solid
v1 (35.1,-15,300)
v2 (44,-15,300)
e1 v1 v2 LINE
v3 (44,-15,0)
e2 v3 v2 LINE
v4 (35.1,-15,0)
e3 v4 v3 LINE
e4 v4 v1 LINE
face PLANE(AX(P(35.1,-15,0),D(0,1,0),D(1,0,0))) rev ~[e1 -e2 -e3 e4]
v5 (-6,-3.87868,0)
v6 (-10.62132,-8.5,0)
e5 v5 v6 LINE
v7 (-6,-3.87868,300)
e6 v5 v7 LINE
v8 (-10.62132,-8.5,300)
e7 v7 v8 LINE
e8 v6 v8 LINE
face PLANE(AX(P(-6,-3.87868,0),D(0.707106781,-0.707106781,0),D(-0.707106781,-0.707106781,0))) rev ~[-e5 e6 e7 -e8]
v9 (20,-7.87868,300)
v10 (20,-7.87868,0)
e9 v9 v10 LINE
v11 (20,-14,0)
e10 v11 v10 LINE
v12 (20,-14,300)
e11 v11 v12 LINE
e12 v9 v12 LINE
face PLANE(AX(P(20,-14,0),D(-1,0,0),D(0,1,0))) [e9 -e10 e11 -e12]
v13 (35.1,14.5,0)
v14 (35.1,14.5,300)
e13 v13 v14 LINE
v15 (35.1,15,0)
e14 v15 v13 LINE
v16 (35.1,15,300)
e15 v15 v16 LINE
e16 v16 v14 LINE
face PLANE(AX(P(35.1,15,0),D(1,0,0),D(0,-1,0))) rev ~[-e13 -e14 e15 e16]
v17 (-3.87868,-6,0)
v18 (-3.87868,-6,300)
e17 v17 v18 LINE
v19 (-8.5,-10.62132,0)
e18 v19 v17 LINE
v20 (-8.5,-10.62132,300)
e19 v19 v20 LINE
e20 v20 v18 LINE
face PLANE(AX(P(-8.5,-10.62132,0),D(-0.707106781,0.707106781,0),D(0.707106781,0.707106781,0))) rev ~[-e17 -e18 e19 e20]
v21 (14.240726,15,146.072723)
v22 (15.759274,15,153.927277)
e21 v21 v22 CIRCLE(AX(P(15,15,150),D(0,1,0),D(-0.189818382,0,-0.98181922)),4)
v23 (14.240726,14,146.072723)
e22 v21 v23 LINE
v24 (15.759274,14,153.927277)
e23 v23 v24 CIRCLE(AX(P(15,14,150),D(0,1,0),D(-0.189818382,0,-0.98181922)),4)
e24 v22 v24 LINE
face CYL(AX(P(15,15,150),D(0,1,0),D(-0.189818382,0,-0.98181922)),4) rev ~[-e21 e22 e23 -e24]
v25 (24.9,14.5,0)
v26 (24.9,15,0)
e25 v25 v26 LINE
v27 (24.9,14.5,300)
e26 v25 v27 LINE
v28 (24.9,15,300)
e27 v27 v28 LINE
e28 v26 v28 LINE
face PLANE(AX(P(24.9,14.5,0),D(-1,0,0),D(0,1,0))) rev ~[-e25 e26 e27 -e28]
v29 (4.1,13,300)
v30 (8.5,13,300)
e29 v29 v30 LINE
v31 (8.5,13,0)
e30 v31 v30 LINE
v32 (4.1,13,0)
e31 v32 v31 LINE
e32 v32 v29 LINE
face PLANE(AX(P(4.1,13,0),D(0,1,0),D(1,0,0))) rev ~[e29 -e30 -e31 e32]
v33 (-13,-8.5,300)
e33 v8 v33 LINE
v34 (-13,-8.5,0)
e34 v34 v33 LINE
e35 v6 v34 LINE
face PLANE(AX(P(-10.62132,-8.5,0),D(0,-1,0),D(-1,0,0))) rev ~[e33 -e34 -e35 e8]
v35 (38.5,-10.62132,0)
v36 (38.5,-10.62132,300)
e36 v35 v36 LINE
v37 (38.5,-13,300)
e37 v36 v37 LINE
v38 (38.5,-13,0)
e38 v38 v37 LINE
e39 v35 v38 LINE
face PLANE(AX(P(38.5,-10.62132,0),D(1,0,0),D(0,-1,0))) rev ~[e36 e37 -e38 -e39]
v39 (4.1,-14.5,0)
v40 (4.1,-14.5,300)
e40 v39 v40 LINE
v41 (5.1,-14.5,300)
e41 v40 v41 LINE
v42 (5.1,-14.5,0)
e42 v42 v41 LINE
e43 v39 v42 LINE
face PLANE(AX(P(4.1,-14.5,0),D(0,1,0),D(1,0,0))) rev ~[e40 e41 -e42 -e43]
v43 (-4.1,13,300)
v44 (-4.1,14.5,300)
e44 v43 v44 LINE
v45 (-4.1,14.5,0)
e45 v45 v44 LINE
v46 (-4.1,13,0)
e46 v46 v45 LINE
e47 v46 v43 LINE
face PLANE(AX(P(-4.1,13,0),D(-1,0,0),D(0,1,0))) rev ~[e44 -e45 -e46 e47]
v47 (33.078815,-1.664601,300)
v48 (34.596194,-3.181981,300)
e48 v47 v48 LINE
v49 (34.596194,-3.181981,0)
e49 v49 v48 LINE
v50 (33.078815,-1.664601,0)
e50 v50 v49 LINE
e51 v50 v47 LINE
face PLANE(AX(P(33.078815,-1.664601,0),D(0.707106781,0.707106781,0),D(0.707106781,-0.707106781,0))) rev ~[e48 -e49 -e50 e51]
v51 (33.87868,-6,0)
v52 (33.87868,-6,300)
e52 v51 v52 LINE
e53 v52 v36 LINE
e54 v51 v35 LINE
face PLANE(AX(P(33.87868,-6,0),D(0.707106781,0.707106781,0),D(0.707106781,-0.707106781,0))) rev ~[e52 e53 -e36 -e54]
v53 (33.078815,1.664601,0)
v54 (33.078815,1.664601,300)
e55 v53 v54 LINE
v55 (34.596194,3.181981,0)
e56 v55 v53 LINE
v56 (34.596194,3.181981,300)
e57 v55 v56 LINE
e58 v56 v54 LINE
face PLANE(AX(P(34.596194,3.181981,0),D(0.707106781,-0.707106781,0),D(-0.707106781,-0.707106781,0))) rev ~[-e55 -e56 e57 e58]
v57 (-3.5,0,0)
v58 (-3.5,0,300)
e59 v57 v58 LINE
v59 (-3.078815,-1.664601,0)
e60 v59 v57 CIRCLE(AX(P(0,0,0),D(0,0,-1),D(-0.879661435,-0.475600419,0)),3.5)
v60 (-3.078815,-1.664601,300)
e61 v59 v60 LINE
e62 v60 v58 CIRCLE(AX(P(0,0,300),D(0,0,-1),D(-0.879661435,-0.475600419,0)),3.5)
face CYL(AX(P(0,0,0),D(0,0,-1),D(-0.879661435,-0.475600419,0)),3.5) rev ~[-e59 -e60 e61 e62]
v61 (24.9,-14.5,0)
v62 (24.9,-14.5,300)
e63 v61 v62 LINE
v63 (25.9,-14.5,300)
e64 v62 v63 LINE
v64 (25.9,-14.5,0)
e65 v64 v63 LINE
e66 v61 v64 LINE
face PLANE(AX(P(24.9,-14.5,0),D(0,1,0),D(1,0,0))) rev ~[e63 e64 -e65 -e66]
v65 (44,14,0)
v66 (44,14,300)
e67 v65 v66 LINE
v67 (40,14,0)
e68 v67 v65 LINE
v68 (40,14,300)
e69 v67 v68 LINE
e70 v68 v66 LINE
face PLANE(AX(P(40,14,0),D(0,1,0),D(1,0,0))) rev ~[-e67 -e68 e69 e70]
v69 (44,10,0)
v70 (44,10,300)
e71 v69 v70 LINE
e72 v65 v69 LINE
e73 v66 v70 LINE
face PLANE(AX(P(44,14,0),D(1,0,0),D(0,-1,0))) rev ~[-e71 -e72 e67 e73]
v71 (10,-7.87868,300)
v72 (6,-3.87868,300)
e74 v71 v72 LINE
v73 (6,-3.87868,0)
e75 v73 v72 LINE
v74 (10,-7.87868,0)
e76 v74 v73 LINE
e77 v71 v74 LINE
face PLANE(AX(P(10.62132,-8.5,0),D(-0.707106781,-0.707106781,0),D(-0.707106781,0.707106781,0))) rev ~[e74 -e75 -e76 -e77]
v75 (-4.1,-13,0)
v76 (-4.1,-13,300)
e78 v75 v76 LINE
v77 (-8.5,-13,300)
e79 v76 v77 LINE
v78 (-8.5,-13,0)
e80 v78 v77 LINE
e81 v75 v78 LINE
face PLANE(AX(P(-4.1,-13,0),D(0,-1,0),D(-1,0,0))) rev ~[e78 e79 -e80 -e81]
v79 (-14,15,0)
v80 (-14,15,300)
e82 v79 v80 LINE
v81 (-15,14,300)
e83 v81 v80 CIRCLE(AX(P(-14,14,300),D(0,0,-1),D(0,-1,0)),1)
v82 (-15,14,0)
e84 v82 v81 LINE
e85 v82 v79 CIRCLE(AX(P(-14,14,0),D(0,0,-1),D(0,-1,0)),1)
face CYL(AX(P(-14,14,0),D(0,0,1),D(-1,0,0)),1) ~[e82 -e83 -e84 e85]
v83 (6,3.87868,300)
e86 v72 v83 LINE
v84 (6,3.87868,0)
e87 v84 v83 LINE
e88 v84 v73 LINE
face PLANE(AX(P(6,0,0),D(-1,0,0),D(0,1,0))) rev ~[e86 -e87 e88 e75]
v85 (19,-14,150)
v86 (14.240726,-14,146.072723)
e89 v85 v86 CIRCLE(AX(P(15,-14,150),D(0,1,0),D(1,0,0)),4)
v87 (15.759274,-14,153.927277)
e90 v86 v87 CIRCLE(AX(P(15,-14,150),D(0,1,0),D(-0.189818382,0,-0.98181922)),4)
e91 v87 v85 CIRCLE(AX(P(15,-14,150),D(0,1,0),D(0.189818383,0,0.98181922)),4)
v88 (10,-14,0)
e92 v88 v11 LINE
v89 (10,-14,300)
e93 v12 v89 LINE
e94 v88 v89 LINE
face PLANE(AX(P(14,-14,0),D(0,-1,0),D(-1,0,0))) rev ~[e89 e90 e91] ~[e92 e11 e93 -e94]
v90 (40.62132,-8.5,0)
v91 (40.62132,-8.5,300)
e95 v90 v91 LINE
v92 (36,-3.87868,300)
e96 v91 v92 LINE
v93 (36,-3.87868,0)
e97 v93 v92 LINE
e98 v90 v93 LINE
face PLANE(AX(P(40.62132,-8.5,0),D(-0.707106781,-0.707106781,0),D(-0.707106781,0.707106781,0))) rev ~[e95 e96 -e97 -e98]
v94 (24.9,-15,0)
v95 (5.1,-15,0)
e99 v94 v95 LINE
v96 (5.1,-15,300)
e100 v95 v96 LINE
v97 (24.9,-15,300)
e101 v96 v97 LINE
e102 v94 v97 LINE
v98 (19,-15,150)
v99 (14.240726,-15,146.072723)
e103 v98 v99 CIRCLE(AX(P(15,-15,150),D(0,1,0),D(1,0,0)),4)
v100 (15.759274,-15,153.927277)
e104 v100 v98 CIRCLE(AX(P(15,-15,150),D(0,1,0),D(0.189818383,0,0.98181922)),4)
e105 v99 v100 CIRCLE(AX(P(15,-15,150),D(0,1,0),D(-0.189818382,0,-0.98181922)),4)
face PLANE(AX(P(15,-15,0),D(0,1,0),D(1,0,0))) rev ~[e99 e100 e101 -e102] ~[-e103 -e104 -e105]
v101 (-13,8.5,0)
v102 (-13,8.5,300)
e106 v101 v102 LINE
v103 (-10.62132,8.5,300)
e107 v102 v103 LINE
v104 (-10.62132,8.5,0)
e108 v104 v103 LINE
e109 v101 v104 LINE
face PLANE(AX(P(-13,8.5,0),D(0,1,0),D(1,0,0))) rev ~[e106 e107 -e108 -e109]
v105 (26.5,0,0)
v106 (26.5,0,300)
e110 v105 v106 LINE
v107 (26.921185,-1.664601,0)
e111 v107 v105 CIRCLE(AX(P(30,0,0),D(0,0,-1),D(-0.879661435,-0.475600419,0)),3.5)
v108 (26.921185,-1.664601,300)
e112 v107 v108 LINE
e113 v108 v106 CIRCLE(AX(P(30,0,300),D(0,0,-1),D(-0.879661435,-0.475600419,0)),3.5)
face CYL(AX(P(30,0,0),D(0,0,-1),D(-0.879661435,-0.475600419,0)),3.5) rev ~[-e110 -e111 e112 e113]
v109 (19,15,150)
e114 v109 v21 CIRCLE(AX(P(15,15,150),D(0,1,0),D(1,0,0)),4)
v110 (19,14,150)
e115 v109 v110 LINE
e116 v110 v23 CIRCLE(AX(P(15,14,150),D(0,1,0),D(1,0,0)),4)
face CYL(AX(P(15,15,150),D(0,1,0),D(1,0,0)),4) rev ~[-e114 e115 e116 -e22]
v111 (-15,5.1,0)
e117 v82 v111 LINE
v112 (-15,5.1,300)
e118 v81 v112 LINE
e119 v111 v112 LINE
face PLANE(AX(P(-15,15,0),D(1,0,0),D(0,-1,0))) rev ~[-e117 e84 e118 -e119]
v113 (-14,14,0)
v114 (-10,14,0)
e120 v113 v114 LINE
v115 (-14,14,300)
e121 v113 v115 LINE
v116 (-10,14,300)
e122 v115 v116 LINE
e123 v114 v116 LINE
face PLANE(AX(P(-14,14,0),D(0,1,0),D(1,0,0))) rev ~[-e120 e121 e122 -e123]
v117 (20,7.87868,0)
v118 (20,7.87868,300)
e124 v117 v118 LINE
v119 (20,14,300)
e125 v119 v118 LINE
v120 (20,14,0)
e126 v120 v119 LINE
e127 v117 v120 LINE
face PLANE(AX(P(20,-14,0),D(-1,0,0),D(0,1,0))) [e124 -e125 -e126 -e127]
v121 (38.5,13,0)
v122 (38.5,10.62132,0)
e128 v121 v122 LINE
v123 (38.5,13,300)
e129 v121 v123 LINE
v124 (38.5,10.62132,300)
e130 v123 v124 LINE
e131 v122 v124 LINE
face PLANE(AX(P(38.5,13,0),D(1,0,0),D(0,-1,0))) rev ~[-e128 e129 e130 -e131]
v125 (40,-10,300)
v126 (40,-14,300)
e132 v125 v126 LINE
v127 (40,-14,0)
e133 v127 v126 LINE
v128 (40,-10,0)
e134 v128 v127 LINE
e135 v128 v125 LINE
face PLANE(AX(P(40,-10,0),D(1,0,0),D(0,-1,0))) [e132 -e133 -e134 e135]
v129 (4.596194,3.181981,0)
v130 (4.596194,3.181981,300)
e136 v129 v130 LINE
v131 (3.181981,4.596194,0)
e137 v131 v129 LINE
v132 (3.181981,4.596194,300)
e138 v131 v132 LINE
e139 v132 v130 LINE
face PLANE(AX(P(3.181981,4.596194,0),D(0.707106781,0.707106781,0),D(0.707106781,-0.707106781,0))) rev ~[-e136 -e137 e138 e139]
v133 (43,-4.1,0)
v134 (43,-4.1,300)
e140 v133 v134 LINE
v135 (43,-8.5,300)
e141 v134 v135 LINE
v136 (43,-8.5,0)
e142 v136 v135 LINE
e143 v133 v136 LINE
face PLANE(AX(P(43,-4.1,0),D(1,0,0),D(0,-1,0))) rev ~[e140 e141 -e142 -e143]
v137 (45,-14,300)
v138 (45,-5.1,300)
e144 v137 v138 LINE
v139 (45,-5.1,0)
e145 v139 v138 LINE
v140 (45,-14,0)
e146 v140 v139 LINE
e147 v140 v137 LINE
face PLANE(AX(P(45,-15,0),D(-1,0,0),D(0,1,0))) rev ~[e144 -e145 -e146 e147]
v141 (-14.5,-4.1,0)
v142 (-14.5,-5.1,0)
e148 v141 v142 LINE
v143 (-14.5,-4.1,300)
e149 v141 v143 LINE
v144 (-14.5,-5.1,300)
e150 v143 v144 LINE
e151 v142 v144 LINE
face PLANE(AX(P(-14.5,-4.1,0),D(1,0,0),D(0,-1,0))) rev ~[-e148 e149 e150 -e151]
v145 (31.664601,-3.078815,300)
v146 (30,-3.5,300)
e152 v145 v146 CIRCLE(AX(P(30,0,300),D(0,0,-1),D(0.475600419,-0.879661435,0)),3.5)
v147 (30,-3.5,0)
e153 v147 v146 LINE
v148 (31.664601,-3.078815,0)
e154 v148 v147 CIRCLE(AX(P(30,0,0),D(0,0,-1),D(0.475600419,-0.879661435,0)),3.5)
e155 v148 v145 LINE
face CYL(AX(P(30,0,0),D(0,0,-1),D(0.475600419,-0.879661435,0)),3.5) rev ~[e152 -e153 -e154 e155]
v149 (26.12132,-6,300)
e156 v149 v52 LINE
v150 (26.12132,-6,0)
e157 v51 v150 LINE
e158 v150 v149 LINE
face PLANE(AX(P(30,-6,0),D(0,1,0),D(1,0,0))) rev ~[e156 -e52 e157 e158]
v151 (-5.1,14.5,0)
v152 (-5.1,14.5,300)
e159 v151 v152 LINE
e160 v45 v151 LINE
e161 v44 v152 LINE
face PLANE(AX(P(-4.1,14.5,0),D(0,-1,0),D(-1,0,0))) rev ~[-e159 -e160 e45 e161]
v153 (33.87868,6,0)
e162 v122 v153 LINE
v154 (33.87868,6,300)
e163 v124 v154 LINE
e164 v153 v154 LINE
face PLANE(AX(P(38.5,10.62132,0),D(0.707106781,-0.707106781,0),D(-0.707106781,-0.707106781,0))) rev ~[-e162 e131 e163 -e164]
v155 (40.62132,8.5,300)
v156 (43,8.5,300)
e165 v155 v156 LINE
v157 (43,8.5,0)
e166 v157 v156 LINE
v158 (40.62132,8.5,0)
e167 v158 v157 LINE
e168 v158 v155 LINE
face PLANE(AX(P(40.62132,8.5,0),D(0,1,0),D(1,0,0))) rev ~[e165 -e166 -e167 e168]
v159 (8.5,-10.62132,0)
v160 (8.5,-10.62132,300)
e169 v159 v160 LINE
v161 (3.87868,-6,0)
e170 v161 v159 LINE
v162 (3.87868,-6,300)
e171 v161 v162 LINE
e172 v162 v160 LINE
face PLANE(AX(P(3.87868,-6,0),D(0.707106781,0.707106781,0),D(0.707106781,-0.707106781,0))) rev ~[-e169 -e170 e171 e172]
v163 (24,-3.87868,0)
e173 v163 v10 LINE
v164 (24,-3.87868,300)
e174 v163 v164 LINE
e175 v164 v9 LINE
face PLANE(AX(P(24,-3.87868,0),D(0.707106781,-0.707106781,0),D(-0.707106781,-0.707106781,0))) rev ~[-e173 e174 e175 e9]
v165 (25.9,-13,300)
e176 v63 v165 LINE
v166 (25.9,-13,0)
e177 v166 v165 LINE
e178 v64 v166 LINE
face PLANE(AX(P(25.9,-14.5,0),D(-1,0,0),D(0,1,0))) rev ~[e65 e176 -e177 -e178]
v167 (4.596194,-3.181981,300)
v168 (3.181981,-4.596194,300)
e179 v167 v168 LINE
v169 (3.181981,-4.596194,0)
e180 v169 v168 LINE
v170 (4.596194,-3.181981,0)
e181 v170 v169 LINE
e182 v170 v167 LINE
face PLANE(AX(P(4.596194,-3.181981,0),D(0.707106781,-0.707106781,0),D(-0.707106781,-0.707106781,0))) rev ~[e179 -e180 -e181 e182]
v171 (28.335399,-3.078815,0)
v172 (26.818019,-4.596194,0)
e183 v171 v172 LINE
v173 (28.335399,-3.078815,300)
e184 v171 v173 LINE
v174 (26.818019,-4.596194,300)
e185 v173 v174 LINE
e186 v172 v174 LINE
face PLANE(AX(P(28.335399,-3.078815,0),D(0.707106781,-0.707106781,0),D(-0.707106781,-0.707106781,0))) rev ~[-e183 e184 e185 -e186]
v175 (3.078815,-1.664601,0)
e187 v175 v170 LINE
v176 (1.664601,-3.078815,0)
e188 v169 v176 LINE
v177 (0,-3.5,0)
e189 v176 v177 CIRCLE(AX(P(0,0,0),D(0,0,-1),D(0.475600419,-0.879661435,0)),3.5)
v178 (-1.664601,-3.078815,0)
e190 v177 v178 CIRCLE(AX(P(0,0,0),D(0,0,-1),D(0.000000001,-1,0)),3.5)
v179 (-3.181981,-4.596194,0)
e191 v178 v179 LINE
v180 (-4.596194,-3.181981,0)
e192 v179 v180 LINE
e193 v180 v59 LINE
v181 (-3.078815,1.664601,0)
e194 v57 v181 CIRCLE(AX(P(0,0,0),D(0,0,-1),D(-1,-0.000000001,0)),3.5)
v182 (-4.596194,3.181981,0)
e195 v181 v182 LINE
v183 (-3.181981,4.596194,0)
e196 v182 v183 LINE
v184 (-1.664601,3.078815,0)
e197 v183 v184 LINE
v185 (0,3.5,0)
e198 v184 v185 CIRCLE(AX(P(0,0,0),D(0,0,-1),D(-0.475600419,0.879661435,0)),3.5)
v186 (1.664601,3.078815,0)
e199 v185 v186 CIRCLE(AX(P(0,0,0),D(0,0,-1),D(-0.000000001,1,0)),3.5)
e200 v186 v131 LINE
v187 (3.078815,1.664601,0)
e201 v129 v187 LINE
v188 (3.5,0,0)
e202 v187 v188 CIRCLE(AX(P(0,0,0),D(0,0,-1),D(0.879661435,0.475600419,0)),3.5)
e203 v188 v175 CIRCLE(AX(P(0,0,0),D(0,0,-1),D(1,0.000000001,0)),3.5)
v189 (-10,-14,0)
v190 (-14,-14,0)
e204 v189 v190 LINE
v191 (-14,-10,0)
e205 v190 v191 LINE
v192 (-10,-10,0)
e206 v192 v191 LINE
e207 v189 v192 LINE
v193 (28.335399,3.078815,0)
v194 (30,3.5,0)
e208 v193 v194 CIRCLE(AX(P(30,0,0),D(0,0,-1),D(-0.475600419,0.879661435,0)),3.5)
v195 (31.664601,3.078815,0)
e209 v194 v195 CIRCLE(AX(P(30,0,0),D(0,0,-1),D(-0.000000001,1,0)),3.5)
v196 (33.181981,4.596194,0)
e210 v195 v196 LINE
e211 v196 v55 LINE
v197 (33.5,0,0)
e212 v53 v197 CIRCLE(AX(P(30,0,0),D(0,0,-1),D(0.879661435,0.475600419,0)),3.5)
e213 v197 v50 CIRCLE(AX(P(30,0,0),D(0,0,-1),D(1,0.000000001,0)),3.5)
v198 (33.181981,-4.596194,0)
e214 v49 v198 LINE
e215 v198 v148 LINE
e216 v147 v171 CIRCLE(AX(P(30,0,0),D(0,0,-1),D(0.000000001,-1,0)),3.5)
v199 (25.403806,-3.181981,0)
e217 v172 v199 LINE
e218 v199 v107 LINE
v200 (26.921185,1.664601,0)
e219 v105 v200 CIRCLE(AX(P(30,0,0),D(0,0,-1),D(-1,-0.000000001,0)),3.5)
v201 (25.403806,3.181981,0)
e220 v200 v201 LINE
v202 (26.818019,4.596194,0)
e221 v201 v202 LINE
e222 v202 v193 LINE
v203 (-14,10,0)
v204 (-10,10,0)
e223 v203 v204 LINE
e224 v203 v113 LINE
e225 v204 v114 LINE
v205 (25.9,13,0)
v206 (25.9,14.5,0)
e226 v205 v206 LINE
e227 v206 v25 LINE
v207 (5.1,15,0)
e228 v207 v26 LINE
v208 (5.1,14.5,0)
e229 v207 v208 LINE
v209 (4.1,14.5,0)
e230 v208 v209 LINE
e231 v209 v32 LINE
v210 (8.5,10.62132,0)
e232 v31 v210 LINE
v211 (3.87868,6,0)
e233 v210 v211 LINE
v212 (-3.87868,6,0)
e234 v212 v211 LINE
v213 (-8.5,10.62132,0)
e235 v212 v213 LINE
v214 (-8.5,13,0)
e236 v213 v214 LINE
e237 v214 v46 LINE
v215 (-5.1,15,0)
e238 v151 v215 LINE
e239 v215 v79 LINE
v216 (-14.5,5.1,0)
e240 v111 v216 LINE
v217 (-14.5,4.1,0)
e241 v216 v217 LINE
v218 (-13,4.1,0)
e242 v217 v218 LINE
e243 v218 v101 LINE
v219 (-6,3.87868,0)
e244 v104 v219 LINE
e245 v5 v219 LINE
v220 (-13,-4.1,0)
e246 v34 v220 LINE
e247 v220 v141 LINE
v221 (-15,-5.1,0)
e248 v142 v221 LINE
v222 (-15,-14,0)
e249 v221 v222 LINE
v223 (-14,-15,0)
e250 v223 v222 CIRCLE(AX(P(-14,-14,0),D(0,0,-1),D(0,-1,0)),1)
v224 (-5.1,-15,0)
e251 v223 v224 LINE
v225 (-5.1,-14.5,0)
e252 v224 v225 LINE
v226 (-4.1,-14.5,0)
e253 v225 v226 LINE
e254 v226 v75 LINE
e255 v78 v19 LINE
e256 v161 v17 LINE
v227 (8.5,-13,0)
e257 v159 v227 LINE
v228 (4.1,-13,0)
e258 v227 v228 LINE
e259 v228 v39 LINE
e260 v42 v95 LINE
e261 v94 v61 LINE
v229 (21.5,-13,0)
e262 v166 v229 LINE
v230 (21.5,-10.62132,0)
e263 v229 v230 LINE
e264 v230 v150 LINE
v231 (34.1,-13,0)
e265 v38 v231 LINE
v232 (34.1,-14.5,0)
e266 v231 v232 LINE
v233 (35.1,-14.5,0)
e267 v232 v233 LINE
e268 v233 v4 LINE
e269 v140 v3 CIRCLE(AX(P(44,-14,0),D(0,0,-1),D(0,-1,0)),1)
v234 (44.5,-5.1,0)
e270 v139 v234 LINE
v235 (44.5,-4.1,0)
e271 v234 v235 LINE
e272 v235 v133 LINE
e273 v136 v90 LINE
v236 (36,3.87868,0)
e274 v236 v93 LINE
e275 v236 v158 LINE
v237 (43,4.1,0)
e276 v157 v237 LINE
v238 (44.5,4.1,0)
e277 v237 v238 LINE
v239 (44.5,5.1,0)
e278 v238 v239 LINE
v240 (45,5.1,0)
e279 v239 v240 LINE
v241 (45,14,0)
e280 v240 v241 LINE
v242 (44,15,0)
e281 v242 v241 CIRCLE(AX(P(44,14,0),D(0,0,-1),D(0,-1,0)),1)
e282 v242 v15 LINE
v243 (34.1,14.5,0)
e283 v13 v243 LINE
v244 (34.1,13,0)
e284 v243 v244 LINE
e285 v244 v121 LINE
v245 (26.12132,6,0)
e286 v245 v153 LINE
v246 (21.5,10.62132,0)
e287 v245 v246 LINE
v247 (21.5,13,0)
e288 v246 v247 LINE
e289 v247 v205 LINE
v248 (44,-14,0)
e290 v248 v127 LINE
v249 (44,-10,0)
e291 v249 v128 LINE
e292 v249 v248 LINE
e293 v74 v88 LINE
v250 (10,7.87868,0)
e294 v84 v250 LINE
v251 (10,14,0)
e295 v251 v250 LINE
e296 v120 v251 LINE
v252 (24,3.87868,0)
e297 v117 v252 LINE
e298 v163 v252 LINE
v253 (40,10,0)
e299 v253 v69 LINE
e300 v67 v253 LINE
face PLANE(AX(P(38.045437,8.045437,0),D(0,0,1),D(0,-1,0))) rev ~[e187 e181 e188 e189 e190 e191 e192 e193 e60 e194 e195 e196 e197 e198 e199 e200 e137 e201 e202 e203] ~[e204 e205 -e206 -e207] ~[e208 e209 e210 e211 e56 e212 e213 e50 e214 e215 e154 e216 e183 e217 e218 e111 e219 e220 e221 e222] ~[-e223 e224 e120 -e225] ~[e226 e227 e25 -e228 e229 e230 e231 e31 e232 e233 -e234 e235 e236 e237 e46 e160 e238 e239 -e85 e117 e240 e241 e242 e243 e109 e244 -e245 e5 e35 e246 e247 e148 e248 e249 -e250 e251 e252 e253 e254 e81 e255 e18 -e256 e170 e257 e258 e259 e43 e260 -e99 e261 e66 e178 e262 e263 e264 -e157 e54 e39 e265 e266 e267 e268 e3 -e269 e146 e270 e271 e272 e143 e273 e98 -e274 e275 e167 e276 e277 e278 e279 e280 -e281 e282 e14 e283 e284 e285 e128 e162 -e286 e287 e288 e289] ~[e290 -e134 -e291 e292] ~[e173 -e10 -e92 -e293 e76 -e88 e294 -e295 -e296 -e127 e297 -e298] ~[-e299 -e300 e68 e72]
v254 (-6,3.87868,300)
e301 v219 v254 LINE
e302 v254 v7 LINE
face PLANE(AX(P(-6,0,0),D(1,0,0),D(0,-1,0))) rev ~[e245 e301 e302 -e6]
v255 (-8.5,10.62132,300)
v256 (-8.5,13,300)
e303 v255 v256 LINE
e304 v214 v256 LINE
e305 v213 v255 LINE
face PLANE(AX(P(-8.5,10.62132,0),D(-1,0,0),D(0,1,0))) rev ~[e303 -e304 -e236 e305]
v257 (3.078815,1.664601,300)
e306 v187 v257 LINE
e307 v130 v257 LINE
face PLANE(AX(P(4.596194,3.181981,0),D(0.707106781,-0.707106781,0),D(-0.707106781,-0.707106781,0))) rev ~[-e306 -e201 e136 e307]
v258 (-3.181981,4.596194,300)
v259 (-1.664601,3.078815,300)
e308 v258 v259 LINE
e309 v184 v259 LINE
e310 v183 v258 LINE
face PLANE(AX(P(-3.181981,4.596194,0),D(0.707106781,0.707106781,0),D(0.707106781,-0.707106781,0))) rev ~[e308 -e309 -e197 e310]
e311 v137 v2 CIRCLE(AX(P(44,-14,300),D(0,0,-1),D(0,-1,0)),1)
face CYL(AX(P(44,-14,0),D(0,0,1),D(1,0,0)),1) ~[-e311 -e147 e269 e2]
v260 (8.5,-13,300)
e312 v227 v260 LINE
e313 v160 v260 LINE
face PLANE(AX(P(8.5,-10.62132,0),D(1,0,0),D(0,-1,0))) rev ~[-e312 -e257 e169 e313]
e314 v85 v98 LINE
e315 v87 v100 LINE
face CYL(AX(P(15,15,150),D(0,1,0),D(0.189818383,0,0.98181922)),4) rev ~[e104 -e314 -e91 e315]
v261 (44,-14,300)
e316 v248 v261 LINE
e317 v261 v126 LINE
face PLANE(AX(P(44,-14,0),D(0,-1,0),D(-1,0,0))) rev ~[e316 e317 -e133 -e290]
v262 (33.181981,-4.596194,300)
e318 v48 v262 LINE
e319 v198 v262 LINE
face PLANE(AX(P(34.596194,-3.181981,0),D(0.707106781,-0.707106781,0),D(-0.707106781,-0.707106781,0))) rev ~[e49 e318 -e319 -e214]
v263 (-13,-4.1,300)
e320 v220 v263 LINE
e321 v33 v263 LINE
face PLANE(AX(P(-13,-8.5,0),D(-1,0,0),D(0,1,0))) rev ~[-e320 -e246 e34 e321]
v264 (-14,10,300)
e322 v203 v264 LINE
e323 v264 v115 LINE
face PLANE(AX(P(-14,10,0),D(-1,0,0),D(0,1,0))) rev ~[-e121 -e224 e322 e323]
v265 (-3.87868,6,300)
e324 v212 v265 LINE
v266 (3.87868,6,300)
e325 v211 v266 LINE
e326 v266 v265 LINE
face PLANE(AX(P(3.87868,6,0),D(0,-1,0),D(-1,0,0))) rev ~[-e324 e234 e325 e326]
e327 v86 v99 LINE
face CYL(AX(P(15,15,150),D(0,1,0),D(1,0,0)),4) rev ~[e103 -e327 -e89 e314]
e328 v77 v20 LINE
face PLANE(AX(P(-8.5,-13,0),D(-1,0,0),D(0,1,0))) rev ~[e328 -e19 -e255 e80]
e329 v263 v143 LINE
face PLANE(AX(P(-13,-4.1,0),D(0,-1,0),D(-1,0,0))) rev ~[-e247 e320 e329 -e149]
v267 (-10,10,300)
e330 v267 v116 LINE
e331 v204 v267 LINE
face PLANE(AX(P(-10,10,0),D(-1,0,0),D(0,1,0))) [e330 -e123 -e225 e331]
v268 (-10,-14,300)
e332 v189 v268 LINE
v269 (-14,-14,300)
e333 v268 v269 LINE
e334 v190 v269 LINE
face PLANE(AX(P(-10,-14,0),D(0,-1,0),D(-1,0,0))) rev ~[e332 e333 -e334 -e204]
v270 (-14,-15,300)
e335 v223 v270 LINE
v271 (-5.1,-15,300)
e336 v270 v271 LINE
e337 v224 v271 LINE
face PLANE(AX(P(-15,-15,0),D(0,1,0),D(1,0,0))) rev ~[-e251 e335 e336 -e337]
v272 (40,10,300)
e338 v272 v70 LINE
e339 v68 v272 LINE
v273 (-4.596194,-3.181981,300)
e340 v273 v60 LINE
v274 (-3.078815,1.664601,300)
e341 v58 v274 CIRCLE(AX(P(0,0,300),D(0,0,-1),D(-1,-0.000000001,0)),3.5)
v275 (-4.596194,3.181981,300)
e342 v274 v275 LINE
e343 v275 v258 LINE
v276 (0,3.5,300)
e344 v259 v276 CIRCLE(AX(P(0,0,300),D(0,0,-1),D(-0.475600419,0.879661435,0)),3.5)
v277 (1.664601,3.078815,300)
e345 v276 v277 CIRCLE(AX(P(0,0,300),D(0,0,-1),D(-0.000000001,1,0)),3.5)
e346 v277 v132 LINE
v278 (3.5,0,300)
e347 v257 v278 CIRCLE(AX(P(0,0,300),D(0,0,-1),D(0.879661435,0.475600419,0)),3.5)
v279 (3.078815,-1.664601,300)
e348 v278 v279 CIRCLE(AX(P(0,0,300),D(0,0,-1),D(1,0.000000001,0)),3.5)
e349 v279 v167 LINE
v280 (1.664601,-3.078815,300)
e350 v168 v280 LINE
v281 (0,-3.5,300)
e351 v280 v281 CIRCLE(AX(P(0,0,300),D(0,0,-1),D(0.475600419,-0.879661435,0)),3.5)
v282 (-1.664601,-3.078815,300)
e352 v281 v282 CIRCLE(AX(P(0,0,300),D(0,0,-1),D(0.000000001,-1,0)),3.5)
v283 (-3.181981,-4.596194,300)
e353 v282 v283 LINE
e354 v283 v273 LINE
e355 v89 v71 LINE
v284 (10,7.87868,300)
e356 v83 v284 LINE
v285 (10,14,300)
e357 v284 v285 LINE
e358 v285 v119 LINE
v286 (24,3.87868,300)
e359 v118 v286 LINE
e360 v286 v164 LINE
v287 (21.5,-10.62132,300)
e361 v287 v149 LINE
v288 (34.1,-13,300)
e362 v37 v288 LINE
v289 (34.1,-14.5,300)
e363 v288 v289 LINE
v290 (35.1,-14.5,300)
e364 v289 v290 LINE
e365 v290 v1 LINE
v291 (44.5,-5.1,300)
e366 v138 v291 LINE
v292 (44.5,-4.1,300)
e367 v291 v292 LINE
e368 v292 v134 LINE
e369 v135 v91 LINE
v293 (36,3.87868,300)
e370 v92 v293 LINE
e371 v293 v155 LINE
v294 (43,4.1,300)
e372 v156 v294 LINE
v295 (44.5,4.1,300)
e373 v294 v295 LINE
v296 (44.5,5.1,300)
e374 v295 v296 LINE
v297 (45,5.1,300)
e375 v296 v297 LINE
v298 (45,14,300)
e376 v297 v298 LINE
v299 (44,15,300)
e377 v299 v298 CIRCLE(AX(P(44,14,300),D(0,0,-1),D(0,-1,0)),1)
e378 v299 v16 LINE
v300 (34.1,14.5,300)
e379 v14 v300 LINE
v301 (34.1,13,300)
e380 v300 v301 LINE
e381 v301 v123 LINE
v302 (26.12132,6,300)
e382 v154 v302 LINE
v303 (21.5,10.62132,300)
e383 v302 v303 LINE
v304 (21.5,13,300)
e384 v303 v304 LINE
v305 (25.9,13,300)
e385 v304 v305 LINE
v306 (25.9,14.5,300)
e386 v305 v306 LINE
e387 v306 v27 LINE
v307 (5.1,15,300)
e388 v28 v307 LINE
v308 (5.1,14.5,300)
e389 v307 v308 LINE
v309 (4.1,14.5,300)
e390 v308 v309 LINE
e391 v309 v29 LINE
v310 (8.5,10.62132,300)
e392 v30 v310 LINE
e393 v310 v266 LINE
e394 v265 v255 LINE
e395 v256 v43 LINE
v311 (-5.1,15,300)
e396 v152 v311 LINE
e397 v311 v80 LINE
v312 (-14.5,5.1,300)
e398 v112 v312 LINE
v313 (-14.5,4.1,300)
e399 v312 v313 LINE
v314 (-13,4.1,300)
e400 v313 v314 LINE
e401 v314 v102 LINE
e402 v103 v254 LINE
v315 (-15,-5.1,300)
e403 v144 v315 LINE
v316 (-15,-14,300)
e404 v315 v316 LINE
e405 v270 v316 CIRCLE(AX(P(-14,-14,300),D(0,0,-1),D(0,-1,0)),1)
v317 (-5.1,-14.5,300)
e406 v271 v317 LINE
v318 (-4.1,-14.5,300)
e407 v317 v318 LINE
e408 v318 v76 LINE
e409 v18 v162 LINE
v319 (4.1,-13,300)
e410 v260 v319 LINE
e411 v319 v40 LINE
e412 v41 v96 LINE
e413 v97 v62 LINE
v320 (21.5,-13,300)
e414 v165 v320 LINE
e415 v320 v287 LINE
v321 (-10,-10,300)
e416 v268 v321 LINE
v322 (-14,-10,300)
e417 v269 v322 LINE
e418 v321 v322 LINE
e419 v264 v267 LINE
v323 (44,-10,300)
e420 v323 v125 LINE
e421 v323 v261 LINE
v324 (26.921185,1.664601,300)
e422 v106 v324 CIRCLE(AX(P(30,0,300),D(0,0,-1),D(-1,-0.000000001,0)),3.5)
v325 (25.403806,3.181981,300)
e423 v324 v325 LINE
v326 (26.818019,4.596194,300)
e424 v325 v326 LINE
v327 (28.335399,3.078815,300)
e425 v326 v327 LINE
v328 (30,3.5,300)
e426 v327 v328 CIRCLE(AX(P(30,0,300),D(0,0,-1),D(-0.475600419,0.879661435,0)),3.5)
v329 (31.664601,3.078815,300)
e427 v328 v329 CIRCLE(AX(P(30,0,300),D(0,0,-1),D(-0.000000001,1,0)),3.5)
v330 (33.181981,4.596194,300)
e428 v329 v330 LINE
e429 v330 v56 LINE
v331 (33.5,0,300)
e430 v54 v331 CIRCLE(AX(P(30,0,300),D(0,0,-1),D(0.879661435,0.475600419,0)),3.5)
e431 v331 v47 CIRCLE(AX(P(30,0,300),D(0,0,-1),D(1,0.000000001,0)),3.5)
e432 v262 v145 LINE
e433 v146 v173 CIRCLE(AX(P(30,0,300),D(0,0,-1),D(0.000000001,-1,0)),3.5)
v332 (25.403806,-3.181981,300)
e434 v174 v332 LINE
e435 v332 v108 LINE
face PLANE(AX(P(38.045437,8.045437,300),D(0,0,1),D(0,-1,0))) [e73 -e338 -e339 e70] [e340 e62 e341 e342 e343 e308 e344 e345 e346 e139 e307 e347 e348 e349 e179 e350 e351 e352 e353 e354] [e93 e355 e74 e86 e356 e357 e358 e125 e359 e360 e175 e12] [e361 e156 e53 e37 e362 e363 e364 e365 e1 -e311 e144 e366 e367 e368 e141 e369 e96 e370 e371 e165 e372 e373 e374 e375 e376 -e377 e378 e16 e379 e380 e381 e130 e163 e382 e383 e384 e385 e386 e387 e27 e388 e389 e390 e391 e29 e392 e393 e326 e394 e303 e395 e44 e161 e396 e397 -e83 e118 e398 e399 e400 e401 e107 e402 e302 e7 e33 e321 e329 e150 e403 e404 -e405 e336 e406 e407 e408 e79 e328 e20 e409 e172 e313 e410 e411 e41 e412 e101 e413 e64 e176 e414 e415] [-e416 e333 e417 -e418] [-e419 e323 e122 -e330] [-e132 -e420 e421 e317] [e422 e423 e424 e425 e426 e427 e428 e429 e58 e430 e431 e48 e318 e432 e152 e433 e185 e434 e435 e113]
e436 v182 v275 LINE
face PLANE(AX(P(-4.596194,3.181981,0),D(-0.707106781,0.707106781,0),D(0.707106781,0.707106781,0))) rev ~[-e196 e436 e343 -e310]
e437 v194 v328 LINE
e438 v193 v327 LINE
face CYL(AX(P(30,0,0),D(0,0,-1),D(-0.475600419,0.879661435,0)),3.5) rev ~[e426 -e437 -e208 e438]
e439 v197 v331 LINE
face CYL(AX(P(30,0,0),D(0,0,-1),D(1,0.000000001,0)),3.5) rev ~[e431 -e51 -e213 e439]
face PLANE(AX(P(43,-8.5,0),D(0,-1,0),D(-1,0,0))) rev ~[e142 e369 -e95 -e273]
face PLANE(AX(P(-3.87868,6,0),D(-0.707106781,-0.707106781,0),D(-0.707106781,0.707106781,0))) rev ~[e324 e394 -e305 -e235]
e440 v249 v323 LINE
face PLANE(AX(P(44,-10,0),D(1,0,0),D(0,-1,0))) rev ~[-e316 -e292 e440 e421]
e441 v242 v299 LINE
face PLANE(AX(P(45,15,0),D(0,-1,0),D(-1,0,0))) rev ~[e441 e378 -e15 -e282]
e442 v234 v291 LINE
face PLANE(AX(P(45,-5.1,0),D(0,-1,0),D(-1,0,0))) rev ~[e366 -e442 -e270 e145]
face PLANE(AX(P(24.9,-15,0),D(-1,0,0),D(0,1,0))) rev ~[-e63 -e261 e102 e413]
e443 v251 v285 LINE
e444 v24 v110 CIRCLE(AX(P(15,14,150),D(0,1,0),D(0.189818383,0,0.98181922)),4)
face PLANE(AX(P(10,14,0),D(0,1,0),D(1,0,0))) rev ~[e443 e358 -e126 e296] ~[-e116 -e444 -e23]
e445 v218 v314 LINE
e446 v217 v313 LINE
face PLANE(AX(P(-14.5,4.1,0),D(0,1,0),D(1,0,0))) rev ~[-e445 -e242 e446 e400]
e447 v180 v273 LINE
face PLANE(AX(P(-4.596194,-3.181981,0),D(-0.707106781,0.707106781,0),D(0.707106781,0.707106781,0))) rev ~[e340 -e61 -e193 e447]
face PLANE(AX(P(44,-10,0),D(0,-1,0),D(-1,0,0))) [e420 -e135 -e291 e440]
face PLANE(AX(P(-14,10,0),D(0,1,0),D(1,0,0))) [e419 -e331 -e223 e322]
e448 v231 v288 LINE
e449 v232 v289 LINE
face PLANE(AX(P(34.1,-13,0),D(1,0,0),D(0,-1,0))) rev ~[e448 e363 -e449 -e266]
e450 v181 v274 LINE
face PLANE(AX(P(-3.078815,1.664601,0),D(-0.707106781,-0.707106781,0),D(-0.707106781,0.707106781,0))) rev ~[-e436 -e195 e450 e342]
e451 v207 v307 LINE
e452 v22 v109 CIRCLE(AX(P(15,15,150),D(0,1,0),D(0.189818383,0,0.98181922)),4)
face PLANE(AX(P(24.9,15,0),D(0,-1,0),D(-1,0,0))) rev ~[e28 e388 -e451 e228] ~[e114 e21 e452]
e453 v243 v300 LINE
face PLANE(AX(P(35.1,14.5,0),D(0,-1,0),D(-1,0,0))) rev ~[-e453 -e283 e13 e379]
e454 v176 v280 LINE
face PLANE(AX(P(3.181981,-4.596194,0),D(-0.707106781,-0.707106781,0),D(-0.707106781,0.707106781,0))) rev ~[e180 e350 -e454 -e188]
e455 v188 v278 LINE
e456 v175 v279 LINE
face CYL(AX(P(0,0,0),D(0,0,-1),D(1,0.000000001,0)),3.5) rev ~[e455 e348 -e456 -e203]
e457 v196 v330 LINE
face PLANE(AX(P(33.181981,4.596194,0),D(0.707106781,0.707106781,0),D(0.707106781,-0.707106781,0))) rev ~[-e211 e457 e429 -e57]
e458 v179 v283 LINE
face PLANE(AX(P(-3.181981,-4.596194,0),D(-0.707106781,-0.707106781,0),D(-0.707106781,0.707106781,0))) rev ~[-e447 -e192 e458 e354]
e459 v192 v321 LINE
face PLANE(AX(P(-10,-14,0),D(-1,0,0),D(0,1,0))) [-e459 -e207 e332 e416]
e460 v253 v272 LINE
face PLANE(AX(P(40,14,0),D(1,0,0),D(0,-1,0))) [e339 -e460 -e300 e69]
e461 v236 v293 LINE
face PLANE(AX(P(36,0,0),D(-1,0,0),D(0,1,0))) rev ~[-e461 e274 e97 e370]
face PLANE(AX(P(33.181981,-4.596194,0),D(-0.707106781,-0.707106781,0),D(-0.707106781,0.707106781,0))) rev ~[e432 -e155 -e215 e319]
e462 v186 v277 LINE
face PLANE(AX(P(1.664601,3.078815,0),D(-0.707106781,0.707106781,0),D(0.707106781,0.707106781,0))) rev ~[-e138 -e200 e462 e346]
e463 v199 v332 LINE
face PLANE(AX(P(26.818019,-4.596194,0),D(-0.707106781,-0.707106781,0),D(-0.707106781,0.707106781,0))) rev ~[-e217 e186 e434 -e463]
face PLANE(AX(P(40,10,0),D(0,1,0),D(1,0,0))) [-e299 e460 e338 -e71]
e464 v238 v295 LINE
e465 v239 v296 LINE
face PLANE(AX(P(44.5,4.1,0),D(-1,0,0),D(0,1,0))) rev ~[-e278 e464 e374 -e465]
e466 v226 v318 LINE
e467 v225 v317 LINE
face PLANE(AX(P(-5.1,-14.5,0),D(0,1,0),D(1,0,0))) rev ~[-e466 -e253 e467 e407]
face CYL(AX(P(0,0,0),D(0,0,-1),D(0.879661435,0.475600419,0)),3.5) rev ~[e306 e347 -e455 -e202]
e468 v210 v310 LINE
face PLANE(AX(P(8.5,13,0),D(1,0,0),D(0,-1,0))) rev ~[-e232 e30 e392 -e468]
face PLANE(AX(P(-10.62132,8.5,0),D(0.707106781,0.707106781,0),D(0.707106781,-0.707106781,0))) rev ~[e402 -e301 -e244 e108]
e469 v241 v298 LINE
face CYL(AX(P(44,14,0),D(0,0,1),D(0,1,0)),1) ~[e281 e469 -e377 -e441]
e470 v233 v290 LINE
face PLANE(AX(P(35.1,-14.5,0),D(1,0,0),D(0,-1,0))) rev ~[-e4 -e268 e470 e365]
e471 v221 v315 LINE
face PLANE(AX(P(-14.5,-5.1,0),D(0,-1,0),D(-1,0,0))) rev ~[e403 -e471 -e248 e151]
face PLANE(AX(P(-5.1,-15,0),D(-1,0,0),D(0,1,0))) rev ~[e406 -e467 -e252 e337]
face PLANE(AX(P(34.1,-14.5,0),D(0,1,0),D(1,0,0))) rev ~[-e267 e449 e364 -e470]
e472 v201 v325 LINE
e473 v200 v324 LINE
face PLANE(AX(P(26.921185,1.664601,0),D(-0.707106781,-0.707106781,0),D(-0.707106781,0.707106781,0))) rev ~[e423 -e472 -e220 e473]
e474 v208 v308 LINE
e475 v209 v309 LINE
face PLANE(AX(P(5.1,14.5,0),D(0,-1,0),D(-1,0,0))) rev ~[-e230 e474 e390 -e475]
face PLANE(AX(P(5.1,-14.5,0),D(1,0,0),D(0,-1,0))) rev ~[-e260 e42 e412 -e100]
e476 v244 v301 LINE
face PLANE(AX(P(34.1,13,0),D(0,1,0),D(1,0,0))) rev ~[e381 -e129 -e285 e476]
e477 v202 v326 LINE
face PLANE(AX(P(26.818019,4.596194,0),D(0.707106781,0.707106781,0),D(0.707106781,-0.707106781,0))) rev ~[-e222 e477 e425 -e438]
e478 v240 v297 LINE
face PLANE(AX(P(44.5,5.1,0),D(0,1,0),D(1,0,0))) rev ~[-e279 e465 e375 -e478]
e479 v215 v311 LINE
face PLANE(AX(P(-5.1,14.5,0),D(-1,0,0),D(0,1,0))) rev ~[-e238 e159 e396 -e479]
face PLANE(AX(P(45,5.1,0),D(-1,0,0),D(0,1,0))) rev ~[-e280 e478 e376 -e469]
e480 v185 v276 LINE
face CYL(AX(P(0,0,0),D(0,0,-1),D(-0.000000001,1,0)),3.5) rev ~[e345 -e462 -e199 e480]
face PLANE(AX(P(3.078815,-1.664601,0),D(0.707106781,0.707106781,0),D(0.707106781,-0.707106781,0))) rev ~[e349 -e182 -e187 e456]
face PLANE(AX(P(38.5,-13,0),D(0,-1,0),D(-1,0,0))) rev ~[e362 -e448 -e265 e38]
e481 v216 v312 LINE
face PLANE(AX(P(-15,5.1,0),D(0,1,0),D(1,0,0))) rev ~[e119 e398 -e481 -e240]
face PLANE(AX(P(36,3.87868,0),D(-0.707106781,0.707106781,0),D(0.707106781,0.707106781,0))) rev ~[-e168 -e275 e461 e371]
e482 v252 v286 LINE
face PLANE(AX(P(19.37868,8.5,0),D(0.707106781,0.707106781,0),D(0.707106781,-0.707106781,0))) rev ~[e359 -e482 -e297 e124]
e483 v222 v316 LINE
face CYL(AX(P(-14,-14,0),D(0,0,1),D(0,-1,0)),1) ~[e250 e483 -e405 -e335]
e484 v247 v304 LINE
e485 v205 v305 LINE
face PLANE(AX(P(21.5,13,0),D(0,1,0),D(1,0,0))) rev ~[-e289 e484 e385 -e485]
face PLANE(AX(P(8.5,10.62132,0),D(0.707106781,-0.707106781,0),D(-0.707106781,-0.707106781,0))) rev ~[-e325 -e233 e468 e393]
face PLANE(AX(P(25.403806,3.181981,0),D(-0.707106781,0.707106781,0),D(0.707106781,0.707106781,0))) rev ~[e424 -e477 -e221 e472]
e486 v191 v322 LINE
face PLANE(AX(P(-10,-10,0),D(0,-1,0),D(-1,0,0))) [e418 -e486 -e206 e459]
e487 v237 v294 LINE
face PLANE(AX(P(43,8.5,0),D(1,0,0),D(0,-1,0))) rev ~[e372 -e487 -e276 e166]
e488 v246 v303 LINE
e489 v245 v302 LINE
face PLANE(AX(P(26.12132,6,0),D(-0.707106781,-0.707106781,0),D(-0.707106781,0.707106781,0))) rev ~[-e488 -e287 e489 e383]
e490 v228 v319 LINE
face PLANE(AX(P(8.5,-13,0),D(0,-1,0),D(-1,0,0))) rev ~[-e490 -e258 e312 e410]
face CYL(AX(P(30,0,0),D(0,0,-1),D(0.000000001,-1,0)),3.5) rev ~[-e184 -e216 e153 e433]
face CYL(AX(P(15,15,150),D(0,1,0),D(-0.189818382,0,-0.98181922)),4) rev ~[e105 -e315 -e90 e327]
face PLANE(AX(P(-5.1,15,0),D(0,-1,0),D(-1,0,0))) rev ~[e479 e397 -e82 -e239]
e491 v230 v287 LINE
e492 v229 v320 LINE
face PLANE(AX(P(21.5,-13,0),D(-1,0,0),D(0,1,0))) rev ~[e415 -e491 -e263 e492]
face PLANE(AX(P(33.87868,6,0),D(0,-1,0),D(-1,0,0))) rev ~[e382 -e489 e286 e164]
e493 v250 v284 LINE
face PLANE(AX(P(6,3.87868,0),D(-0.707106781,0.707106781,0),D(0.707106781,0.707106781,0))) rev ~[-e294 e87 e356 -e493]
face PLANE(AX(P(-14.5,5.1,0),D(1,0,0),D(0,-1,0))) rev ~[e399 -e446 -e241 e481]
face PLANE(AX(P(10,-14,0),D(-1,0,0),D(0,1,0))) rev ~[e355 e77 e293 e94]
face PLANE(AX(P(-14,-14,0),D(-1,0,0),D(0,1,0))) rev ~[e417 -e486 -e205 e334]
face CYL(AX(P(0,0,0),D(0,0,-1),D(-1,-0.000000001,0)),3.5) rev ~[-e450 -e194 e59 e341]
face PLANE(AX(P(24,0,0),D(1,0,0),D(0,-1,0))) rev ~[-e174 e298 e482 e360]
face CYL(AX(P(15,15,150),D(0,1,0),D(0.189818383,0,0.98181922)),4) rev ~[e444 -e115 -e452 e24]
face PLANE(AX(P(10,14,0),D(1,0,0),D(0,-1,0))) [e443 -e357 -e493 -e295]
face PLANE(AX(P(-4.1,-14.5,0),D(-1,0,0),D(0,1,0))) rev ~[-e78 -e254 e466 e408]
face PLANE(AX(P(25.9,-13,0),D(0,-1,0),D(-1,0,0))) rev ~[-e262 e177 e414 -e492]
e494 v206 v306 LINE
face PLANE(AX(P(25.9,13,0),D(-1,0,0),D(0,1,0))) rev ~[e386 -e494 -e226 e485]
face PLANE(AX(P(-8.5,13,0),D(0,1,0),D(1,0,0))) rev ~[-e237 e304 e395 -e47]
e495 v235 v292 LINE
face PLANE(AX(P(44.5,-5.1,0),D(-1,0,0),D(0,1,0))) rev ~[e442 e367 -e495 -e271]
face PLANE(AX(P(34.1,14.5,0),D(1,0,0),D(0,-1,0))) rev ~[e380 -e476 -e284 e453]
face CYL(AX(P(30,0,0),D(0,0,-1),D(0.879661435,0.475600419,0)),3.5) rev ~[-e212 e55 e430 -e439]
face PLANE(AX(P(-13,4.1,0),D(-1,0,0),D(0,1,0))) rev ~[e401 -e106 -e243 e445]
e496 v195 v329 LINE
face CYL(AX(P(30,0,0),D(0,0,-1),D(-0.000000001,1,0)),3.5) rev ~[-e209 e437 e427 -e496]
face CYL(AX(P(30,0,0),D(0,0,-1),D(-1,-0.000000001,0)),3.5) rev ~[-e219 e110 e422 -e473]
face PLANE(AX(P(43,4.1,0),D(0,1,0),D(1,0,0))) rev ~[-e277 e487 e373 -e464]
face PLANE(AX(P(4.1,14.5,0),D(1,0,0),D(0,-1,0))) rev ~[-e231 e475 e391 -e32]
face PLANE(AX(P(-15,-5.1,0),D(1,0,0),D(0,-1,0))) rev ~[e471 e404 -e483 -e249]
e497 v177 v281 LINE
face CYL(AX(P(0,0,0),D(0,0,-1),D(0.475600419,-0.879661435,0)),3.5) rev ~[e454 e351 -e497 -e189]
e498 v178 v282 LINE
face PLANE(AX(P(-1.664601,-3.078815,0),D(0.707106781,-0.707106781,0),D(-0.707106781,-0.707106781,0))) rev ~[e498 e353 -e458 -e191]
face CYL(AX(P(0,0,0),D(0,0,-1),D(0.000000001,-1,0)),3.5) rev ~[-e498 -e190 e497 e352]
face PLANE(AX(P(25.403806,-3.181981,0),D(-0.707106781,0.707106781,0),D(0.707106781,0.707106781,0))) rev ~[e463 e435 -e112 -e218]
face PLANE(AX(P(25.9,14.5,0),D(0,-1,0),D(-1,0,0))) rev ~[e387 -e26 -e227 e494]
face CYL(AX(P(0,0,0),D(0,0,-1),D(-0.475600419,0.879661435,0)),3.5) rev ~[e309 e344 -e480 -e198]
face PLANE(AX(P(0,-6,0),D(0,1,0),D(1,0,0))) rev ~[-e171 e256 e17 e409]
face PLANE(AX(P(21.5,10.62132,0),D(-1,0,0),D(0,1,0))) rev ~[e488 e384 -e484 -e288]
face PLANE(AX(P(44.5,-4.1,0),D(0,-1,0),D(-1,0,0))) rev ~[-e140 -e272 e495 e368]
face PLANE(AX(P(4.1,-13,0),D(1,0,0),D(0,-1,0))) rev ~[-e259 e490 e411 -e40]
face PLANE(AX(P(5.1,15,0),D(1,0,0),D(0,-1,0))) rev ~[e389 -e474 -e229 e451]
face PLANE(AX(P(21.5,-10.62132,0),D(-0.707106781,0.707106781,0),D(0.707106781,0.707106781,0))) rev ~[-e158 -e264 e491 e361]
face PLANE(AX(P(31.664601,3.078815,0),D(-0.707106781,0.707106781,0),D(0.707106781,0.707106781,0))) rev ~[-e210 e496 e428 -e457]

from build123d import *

# Parameters (mm, degrees)
ESBO_O1_W                      = 4
ESBO_O1_H                      = 4
RESSALTO_EXTRUS_O1_DEPTH       = 300
PADR_OCIRCULAR1_COUNT          = 4
PADR_O_LINEAR1_COUNT           = 2
PADR_O_LINEAR1_PITCH           = 30
PADR_O_LINEAR1_COPY_1_SKETCH_W = 4
PADR_O_LINEAR1_COPY_1_SKETCH_H = 4
PADR_O_LINEAR1_COPY_1_DEPTH    = 300
PADR_O_LINEAR1_COPY_2_SKETCH_W = 4
PADR_O_LINEAR1_COPY_2_SKETCH_H = 4
PADR_O_LINEAR1_COPY_2_DEPTH    = 300
PADR_O_LINEAR1_COPY_3_SKETCH_W = 4
PADR_O_LINEAR1_COPY_3_SKETCH_H = 4
PADR_O_LINEAR1_COPY_3_DEPTH    = 300
ESBO_O4_W                      = 10
ESBO_O4_H                      = 28
CORTE_EXTRUS_O1_DEPTH          = 304.72685097
FILETE1_R                      = 1
CUT_EXTRUDE1_DEPTH             = 305.836021494


with BuildPart() as part:
    # Esboço1 → Ressalto-extrusão1 (new body)
    with BuildSketch(Plane.XY):
        with BuildLine():
            ThreePointArc((-1.664601464, 3.078815026), (-0.858529967, 3.393070335), (0, 3.5))
            Line((0, 3.5), (0, 6))
            Line((0, 6), (-3.878679656, 6))
            Line((-3.878679656, 6), (-8.5, 10.621320344))
            Line((-8.5, 10.621320344), (-8.5, 13))
            Line((-8.5, 13), (-4.1, 13))
            Line((-4.1, 13), (-4.1, 14.5))
            Line((-4.1, 14.5), (-5.1, 14.5))
            Line((-5.1, 14.5), (-5.1, 15))
            Line((-5.1, 15), (-15, 15))
            Line((-15, 15), (-15, 5.1))
            Line((-15, 5.1), (-14.5, 5.1))
            Line((-14.5, 5.1), (-14.5, 4.1))
            Line((-14.5, 4.1), (-13, 4.1))
            Line((-13, 4.1), (-13, 8.5))
            Line((-13, 8.5), (-10.621320344, 8.5))
            Line((-10.621320344, 8.5), (-6, 3.878679656))
            Line((-6, 3.878679656), (-6, 0))
            Line((-6, 0), (-3.5, 0))
            ThreePointArc((-3.5, 0), (-3.393070335, 0.858529967), (-3.078815026, 1.664601464))
            Line((-3.078815026, 1.664601464), (-4.596194078, 3.181980515))
            Line((-4.596194078, 3.181980515), (-3.181980515, 4.596194078))
            Line((-3.181980515, 4.596194078), (-1.664601464, 3.078815026))
        make_face()
        with Locations((-12, 12)):
            Rectangle(ESBO_O1_W, ESBO_O1_H, mode=Mode.SUBTRACT)
    ressalto_extrus_o1 = extrude(amount=RESSALTO_EXTRUS_O1_DEPTH)

    # PadrãoCircular1: Ressalto-extrusão1 ×4 about axis
    padr_ocircular1_axis = Axis((0, 0, 0), (0, 0, 1))
    for i in range(1, PADR_OCIRCULAR1_COUNT):
        add(ressalto_extrus_o1.rotate(padr_ocircular1_axis, i * 360 / PADR_OCIRCULAR1_COUNT))

    # Padrão linear1: Ressalto-extrusão1 ×2
    with Locations(*[(i * PADR_O_LINEAR1_PITCH, 0, 0) for i in range(1, PADR_O_LINEAR1_COUNT)]):
        add(ressalto_extrus_o1)

    # Padrão linear1 copy 1 sketch → Padrão linear1 copy 1 (add)
    with BuildSketch(Plane(origin=(30, 0, 0), x_dir=(0, 1, 0), z_dir=(0, 0, 1))):
        with BuildLine():
            ThreePointArc((-1.664601464, 3.078815026), (-0.858529967, 3.393070335), (0, 3.5))
            Line((0, 3.5), (0, 6))
            Line((0, 6), (-3.878679656, 6))
            Line((-3.878679656, 6), (-8.5, 10.621320344))
            Line((-8.5, 10.621320344), (-8.5, 13))
            Line((-8.5, 13), (-4.1, 13))
            Line((-4.1, 13), (-4.1, 14.5))
            Line((-4.1, 14.5), (-5.1, 14.5))
            Line((-5.1, 14.5), (-5.1, 15))
            Line((-5.1, 15), (-15, 15))
            Line((-15, 15), (-15, 5.1))
            Line((-15, 5.1), (-14.5, 5.1))
            Line((-14.5, 5.1), (-14.5, 4.1))
            Line((-14.5, 4.1), (-13, 4.1))
            Line((-13, 4.1), (-13, 8.5))
            Line((-13, 8.5), (-10.621320344, 8.5))
            Line((-10.621320344, 8.5), (-6, 3.878679656))
            Line((-6, 3.878679656), (-6, 0))
            Line((-6, 0), (-3.5, 0))
            ThreePointArc((-3.5, 0), (-3.393070335, 0.858529967), (-3.078815026, 1.664601464))
            Line((-3.078815026, 1.664601464), (-4.596194078, 3.181980515))
            Line((-4.596194078, 3.181980515), (-3.181980515, 4.596194078))
            Line((-3.181980515, 4.596194078), (-1.664601464, 3.078815026))
        make_face()
        with Locations((-12, 12)):
            Rectangle(PADR_O_LINEAR1_COPY_1_SKETCH_W, PADR_O_LINEAR1_COPY_1_SKETCH_H, mode=Mode.SUBTRACT)
    extrude(amount=PADR_O_LINEAR1_COPY_1_DEPTH)

    # Padrão linear1 copy 2 sketch → Padrão linear1 copy 2 (add)
    with BuildSketch(Plane(origin=(30, 0, 0), x_dir=(-1, 0, 0), z_dir=(0, 0, 1))):
        with BuildLine():
            ThreePointArc((-1.664601464, 3.078815026), (-0.858529967, 3.393070335), (0, 3.5))
            Line((0, 3.5), (0, 6))
            Line((0, 6), (-3.878679656, 6))
            Line((-3.878679656, 6), (-8.5, 10.621320344))
            Line((-8.5, 10.621320344), (-8.5, 13))
            Line((-8.5, 13), (-4.1, 13))
            Line((-4.1, 13), (-4.1, 14.5))
            Line((-4.1, 14.5), (-5.1, 14.5))
            Line((-5.1, 14.5), (-5.1, 15))
            Line((-5.1, 15), (-15, 15))
            Line((-15, 15), (-15, 5.1))
            Line((-15, 5.1), (-14.5, 5.1))
            Line((-14.5, 5.1), (-14.5, 4.1))
            Line((-14.5, 4.1), (-13, 4.1))
            Line((-13, 4.1), (-13, 8.5))
            Line((-13, 8.5), (-10.621320344, 8.5))
            Line((-10.621320344, 8.5), (-6, 3.878679656))
            Line((-6, 3.878679656), (-6, 0))
            Line((-6, 0), (-3.5, 0))
            ThreePointArc((-3.5, 0), (-3.393070335, 0.858529967), (-3.078815026, 1.664601464))
            Line((-3.078815026, 1.664601464), (-4.596194078, 3.181980515))
            Line((-4.596194078, 3.181980515), (-3.181980515, 4.596194078))
            Line((-3.181980515, 4.596194078), (-1.664601464, 3.078815026))
        make_face()
        with Locations((-12, 12)):
            Rectangle(PADR_O_LINEAR1_COPY_2_SKETCH_W, PADR_O_LINEAR1_COPY_2_SKETCH_H, mode=Mode.SUBTRACT)
    extrude(amount=PADR_O_LINEAR1_COPY_2_DEPTH)

    # Padrão linear1 copy 3 sketch → Padrão linear1 copy 3 (add)
    with BuildSketch(Plane(origin=(30, 0, 0), x_dir=(0, -1, 0), z_dir=(0, 0, 1))):
        with BuildLine():
            ThreePointArc((-1.664601464, 3.078815026), (-0.858529967, 3.393070335), (0, 3.5))
            Line((0, 3.5), (0, 6))
            Line((0, 6), (-3.878679656, 6))
            Line((-3.878679656, 6), (-8.5, 10.621320344))
            Line((-8.5, 10.621320344), (-8.5, 13))
            Line((-8.5, 13), (-4.1, 13))
            Line((-4.1, 13), (-4.1, 14.5))
            Line((-4.1, 14.5), (-5.1, 14.5))
            Line((-5.1, 14.5), (-5.1, 15))
            Line((-5.1, 15), (-15, 15))
            Line((-15, 15), (-15, 5.1))
            Line((-15, 5.1), (-14.5, 5.1))
            Line((-14.5, 5.1), (-14.5, 4.1))
            Line((-14.5, 4.1), (-13, 4.1))
            Line((-13, 4.1), (-13, 8.5))
            Line((-13, 8.5), (-10.621320344, 8.5))
            Line((-10.621320344, 8.5), (-6, 3.878679656))
            Line((-6, 3.878679656), (-6, 0))
            Line((-6, 0), (-3.5, 0))
            ThreePointArc((-3.5, 0), (-3.393070335, 0.858529967), (-3.078815026, 1.664601464))
            Line((-3.078815026, 1.664601464), (-4.596194078, 3.181980515))
            Line((-4.596194078, 3.181980515), (-3.181980515, 4.596194078))
            Line((-3.181980515, 4.596194078), (-1.664601464, 3.078815026))
        make_face()
        with Locations((-12, 12)):
            Rectangle(PADR_O_LINEAR1_COPY_3_SKETCH_W, PADR_O_LINEAR1_COPY_3_SKETCH_H, mode=Mode.SUBTRACT)
    extrude(amount=PADR_O_LINEAR1_COPY_3_DEPTH)

    # Esboço4 → Corte-extrusão1 (cut, through all)
    with BuildSketch(Plane(origin=(0, 0, 0), x_dir=(-1, 0, 0), z_dir=(0, 0, -1))):
        with Locations((-15, 0)):
            Rectangle(ESBO_O4_W, ESBO_O4_H)
    extrude(amount=-CORTE_EXTRUS_O1_DEPTH, mode=Mode.SUBTRACT)

    # Filete1
    filete1_edges = [part.edges().sort_by_distance(p)[0] for p in [
        (45, -15, 150),
        (45, 15, 150),
        (-15, 15, 150),
        (-15, -15, 150),
    ]]
    fillet(filete1_edges, radius=FILETE1_R)

    # Sketch1 → Cut-Extrude1 (cut, through all)
    with BuildSketch(Plane(origin=(0, 15, 0), x_dir=(1, 0, 0), z_dir=(0, 1, 0))):
        with BuildLine():
            ThreePointArc((19, -150), (17.54586978, -146.914785735), (14.24072647, -146.072723118))
            Line((14.24072647, -146.072723118), (15.75927353, -153.927276882))
            ThreePointArc((15.75927353, -153.927276882), (18.085214265, -152.54586978), (19, -150))
        make_face()
        with BuildLine():
            Line((15.75927353, -153.927276882), (14.24072647, -146.072723118))
            ThreePointArc((14.24072647, -146.072723118), (11.072723118, -150.75927353), (15.75927353, -153.927276882))
        make_face()
    extrude(amount=-CUT_EXTRUDE1_DEPTH, mode=Mode.SUBTRACT)


solid = part.part
